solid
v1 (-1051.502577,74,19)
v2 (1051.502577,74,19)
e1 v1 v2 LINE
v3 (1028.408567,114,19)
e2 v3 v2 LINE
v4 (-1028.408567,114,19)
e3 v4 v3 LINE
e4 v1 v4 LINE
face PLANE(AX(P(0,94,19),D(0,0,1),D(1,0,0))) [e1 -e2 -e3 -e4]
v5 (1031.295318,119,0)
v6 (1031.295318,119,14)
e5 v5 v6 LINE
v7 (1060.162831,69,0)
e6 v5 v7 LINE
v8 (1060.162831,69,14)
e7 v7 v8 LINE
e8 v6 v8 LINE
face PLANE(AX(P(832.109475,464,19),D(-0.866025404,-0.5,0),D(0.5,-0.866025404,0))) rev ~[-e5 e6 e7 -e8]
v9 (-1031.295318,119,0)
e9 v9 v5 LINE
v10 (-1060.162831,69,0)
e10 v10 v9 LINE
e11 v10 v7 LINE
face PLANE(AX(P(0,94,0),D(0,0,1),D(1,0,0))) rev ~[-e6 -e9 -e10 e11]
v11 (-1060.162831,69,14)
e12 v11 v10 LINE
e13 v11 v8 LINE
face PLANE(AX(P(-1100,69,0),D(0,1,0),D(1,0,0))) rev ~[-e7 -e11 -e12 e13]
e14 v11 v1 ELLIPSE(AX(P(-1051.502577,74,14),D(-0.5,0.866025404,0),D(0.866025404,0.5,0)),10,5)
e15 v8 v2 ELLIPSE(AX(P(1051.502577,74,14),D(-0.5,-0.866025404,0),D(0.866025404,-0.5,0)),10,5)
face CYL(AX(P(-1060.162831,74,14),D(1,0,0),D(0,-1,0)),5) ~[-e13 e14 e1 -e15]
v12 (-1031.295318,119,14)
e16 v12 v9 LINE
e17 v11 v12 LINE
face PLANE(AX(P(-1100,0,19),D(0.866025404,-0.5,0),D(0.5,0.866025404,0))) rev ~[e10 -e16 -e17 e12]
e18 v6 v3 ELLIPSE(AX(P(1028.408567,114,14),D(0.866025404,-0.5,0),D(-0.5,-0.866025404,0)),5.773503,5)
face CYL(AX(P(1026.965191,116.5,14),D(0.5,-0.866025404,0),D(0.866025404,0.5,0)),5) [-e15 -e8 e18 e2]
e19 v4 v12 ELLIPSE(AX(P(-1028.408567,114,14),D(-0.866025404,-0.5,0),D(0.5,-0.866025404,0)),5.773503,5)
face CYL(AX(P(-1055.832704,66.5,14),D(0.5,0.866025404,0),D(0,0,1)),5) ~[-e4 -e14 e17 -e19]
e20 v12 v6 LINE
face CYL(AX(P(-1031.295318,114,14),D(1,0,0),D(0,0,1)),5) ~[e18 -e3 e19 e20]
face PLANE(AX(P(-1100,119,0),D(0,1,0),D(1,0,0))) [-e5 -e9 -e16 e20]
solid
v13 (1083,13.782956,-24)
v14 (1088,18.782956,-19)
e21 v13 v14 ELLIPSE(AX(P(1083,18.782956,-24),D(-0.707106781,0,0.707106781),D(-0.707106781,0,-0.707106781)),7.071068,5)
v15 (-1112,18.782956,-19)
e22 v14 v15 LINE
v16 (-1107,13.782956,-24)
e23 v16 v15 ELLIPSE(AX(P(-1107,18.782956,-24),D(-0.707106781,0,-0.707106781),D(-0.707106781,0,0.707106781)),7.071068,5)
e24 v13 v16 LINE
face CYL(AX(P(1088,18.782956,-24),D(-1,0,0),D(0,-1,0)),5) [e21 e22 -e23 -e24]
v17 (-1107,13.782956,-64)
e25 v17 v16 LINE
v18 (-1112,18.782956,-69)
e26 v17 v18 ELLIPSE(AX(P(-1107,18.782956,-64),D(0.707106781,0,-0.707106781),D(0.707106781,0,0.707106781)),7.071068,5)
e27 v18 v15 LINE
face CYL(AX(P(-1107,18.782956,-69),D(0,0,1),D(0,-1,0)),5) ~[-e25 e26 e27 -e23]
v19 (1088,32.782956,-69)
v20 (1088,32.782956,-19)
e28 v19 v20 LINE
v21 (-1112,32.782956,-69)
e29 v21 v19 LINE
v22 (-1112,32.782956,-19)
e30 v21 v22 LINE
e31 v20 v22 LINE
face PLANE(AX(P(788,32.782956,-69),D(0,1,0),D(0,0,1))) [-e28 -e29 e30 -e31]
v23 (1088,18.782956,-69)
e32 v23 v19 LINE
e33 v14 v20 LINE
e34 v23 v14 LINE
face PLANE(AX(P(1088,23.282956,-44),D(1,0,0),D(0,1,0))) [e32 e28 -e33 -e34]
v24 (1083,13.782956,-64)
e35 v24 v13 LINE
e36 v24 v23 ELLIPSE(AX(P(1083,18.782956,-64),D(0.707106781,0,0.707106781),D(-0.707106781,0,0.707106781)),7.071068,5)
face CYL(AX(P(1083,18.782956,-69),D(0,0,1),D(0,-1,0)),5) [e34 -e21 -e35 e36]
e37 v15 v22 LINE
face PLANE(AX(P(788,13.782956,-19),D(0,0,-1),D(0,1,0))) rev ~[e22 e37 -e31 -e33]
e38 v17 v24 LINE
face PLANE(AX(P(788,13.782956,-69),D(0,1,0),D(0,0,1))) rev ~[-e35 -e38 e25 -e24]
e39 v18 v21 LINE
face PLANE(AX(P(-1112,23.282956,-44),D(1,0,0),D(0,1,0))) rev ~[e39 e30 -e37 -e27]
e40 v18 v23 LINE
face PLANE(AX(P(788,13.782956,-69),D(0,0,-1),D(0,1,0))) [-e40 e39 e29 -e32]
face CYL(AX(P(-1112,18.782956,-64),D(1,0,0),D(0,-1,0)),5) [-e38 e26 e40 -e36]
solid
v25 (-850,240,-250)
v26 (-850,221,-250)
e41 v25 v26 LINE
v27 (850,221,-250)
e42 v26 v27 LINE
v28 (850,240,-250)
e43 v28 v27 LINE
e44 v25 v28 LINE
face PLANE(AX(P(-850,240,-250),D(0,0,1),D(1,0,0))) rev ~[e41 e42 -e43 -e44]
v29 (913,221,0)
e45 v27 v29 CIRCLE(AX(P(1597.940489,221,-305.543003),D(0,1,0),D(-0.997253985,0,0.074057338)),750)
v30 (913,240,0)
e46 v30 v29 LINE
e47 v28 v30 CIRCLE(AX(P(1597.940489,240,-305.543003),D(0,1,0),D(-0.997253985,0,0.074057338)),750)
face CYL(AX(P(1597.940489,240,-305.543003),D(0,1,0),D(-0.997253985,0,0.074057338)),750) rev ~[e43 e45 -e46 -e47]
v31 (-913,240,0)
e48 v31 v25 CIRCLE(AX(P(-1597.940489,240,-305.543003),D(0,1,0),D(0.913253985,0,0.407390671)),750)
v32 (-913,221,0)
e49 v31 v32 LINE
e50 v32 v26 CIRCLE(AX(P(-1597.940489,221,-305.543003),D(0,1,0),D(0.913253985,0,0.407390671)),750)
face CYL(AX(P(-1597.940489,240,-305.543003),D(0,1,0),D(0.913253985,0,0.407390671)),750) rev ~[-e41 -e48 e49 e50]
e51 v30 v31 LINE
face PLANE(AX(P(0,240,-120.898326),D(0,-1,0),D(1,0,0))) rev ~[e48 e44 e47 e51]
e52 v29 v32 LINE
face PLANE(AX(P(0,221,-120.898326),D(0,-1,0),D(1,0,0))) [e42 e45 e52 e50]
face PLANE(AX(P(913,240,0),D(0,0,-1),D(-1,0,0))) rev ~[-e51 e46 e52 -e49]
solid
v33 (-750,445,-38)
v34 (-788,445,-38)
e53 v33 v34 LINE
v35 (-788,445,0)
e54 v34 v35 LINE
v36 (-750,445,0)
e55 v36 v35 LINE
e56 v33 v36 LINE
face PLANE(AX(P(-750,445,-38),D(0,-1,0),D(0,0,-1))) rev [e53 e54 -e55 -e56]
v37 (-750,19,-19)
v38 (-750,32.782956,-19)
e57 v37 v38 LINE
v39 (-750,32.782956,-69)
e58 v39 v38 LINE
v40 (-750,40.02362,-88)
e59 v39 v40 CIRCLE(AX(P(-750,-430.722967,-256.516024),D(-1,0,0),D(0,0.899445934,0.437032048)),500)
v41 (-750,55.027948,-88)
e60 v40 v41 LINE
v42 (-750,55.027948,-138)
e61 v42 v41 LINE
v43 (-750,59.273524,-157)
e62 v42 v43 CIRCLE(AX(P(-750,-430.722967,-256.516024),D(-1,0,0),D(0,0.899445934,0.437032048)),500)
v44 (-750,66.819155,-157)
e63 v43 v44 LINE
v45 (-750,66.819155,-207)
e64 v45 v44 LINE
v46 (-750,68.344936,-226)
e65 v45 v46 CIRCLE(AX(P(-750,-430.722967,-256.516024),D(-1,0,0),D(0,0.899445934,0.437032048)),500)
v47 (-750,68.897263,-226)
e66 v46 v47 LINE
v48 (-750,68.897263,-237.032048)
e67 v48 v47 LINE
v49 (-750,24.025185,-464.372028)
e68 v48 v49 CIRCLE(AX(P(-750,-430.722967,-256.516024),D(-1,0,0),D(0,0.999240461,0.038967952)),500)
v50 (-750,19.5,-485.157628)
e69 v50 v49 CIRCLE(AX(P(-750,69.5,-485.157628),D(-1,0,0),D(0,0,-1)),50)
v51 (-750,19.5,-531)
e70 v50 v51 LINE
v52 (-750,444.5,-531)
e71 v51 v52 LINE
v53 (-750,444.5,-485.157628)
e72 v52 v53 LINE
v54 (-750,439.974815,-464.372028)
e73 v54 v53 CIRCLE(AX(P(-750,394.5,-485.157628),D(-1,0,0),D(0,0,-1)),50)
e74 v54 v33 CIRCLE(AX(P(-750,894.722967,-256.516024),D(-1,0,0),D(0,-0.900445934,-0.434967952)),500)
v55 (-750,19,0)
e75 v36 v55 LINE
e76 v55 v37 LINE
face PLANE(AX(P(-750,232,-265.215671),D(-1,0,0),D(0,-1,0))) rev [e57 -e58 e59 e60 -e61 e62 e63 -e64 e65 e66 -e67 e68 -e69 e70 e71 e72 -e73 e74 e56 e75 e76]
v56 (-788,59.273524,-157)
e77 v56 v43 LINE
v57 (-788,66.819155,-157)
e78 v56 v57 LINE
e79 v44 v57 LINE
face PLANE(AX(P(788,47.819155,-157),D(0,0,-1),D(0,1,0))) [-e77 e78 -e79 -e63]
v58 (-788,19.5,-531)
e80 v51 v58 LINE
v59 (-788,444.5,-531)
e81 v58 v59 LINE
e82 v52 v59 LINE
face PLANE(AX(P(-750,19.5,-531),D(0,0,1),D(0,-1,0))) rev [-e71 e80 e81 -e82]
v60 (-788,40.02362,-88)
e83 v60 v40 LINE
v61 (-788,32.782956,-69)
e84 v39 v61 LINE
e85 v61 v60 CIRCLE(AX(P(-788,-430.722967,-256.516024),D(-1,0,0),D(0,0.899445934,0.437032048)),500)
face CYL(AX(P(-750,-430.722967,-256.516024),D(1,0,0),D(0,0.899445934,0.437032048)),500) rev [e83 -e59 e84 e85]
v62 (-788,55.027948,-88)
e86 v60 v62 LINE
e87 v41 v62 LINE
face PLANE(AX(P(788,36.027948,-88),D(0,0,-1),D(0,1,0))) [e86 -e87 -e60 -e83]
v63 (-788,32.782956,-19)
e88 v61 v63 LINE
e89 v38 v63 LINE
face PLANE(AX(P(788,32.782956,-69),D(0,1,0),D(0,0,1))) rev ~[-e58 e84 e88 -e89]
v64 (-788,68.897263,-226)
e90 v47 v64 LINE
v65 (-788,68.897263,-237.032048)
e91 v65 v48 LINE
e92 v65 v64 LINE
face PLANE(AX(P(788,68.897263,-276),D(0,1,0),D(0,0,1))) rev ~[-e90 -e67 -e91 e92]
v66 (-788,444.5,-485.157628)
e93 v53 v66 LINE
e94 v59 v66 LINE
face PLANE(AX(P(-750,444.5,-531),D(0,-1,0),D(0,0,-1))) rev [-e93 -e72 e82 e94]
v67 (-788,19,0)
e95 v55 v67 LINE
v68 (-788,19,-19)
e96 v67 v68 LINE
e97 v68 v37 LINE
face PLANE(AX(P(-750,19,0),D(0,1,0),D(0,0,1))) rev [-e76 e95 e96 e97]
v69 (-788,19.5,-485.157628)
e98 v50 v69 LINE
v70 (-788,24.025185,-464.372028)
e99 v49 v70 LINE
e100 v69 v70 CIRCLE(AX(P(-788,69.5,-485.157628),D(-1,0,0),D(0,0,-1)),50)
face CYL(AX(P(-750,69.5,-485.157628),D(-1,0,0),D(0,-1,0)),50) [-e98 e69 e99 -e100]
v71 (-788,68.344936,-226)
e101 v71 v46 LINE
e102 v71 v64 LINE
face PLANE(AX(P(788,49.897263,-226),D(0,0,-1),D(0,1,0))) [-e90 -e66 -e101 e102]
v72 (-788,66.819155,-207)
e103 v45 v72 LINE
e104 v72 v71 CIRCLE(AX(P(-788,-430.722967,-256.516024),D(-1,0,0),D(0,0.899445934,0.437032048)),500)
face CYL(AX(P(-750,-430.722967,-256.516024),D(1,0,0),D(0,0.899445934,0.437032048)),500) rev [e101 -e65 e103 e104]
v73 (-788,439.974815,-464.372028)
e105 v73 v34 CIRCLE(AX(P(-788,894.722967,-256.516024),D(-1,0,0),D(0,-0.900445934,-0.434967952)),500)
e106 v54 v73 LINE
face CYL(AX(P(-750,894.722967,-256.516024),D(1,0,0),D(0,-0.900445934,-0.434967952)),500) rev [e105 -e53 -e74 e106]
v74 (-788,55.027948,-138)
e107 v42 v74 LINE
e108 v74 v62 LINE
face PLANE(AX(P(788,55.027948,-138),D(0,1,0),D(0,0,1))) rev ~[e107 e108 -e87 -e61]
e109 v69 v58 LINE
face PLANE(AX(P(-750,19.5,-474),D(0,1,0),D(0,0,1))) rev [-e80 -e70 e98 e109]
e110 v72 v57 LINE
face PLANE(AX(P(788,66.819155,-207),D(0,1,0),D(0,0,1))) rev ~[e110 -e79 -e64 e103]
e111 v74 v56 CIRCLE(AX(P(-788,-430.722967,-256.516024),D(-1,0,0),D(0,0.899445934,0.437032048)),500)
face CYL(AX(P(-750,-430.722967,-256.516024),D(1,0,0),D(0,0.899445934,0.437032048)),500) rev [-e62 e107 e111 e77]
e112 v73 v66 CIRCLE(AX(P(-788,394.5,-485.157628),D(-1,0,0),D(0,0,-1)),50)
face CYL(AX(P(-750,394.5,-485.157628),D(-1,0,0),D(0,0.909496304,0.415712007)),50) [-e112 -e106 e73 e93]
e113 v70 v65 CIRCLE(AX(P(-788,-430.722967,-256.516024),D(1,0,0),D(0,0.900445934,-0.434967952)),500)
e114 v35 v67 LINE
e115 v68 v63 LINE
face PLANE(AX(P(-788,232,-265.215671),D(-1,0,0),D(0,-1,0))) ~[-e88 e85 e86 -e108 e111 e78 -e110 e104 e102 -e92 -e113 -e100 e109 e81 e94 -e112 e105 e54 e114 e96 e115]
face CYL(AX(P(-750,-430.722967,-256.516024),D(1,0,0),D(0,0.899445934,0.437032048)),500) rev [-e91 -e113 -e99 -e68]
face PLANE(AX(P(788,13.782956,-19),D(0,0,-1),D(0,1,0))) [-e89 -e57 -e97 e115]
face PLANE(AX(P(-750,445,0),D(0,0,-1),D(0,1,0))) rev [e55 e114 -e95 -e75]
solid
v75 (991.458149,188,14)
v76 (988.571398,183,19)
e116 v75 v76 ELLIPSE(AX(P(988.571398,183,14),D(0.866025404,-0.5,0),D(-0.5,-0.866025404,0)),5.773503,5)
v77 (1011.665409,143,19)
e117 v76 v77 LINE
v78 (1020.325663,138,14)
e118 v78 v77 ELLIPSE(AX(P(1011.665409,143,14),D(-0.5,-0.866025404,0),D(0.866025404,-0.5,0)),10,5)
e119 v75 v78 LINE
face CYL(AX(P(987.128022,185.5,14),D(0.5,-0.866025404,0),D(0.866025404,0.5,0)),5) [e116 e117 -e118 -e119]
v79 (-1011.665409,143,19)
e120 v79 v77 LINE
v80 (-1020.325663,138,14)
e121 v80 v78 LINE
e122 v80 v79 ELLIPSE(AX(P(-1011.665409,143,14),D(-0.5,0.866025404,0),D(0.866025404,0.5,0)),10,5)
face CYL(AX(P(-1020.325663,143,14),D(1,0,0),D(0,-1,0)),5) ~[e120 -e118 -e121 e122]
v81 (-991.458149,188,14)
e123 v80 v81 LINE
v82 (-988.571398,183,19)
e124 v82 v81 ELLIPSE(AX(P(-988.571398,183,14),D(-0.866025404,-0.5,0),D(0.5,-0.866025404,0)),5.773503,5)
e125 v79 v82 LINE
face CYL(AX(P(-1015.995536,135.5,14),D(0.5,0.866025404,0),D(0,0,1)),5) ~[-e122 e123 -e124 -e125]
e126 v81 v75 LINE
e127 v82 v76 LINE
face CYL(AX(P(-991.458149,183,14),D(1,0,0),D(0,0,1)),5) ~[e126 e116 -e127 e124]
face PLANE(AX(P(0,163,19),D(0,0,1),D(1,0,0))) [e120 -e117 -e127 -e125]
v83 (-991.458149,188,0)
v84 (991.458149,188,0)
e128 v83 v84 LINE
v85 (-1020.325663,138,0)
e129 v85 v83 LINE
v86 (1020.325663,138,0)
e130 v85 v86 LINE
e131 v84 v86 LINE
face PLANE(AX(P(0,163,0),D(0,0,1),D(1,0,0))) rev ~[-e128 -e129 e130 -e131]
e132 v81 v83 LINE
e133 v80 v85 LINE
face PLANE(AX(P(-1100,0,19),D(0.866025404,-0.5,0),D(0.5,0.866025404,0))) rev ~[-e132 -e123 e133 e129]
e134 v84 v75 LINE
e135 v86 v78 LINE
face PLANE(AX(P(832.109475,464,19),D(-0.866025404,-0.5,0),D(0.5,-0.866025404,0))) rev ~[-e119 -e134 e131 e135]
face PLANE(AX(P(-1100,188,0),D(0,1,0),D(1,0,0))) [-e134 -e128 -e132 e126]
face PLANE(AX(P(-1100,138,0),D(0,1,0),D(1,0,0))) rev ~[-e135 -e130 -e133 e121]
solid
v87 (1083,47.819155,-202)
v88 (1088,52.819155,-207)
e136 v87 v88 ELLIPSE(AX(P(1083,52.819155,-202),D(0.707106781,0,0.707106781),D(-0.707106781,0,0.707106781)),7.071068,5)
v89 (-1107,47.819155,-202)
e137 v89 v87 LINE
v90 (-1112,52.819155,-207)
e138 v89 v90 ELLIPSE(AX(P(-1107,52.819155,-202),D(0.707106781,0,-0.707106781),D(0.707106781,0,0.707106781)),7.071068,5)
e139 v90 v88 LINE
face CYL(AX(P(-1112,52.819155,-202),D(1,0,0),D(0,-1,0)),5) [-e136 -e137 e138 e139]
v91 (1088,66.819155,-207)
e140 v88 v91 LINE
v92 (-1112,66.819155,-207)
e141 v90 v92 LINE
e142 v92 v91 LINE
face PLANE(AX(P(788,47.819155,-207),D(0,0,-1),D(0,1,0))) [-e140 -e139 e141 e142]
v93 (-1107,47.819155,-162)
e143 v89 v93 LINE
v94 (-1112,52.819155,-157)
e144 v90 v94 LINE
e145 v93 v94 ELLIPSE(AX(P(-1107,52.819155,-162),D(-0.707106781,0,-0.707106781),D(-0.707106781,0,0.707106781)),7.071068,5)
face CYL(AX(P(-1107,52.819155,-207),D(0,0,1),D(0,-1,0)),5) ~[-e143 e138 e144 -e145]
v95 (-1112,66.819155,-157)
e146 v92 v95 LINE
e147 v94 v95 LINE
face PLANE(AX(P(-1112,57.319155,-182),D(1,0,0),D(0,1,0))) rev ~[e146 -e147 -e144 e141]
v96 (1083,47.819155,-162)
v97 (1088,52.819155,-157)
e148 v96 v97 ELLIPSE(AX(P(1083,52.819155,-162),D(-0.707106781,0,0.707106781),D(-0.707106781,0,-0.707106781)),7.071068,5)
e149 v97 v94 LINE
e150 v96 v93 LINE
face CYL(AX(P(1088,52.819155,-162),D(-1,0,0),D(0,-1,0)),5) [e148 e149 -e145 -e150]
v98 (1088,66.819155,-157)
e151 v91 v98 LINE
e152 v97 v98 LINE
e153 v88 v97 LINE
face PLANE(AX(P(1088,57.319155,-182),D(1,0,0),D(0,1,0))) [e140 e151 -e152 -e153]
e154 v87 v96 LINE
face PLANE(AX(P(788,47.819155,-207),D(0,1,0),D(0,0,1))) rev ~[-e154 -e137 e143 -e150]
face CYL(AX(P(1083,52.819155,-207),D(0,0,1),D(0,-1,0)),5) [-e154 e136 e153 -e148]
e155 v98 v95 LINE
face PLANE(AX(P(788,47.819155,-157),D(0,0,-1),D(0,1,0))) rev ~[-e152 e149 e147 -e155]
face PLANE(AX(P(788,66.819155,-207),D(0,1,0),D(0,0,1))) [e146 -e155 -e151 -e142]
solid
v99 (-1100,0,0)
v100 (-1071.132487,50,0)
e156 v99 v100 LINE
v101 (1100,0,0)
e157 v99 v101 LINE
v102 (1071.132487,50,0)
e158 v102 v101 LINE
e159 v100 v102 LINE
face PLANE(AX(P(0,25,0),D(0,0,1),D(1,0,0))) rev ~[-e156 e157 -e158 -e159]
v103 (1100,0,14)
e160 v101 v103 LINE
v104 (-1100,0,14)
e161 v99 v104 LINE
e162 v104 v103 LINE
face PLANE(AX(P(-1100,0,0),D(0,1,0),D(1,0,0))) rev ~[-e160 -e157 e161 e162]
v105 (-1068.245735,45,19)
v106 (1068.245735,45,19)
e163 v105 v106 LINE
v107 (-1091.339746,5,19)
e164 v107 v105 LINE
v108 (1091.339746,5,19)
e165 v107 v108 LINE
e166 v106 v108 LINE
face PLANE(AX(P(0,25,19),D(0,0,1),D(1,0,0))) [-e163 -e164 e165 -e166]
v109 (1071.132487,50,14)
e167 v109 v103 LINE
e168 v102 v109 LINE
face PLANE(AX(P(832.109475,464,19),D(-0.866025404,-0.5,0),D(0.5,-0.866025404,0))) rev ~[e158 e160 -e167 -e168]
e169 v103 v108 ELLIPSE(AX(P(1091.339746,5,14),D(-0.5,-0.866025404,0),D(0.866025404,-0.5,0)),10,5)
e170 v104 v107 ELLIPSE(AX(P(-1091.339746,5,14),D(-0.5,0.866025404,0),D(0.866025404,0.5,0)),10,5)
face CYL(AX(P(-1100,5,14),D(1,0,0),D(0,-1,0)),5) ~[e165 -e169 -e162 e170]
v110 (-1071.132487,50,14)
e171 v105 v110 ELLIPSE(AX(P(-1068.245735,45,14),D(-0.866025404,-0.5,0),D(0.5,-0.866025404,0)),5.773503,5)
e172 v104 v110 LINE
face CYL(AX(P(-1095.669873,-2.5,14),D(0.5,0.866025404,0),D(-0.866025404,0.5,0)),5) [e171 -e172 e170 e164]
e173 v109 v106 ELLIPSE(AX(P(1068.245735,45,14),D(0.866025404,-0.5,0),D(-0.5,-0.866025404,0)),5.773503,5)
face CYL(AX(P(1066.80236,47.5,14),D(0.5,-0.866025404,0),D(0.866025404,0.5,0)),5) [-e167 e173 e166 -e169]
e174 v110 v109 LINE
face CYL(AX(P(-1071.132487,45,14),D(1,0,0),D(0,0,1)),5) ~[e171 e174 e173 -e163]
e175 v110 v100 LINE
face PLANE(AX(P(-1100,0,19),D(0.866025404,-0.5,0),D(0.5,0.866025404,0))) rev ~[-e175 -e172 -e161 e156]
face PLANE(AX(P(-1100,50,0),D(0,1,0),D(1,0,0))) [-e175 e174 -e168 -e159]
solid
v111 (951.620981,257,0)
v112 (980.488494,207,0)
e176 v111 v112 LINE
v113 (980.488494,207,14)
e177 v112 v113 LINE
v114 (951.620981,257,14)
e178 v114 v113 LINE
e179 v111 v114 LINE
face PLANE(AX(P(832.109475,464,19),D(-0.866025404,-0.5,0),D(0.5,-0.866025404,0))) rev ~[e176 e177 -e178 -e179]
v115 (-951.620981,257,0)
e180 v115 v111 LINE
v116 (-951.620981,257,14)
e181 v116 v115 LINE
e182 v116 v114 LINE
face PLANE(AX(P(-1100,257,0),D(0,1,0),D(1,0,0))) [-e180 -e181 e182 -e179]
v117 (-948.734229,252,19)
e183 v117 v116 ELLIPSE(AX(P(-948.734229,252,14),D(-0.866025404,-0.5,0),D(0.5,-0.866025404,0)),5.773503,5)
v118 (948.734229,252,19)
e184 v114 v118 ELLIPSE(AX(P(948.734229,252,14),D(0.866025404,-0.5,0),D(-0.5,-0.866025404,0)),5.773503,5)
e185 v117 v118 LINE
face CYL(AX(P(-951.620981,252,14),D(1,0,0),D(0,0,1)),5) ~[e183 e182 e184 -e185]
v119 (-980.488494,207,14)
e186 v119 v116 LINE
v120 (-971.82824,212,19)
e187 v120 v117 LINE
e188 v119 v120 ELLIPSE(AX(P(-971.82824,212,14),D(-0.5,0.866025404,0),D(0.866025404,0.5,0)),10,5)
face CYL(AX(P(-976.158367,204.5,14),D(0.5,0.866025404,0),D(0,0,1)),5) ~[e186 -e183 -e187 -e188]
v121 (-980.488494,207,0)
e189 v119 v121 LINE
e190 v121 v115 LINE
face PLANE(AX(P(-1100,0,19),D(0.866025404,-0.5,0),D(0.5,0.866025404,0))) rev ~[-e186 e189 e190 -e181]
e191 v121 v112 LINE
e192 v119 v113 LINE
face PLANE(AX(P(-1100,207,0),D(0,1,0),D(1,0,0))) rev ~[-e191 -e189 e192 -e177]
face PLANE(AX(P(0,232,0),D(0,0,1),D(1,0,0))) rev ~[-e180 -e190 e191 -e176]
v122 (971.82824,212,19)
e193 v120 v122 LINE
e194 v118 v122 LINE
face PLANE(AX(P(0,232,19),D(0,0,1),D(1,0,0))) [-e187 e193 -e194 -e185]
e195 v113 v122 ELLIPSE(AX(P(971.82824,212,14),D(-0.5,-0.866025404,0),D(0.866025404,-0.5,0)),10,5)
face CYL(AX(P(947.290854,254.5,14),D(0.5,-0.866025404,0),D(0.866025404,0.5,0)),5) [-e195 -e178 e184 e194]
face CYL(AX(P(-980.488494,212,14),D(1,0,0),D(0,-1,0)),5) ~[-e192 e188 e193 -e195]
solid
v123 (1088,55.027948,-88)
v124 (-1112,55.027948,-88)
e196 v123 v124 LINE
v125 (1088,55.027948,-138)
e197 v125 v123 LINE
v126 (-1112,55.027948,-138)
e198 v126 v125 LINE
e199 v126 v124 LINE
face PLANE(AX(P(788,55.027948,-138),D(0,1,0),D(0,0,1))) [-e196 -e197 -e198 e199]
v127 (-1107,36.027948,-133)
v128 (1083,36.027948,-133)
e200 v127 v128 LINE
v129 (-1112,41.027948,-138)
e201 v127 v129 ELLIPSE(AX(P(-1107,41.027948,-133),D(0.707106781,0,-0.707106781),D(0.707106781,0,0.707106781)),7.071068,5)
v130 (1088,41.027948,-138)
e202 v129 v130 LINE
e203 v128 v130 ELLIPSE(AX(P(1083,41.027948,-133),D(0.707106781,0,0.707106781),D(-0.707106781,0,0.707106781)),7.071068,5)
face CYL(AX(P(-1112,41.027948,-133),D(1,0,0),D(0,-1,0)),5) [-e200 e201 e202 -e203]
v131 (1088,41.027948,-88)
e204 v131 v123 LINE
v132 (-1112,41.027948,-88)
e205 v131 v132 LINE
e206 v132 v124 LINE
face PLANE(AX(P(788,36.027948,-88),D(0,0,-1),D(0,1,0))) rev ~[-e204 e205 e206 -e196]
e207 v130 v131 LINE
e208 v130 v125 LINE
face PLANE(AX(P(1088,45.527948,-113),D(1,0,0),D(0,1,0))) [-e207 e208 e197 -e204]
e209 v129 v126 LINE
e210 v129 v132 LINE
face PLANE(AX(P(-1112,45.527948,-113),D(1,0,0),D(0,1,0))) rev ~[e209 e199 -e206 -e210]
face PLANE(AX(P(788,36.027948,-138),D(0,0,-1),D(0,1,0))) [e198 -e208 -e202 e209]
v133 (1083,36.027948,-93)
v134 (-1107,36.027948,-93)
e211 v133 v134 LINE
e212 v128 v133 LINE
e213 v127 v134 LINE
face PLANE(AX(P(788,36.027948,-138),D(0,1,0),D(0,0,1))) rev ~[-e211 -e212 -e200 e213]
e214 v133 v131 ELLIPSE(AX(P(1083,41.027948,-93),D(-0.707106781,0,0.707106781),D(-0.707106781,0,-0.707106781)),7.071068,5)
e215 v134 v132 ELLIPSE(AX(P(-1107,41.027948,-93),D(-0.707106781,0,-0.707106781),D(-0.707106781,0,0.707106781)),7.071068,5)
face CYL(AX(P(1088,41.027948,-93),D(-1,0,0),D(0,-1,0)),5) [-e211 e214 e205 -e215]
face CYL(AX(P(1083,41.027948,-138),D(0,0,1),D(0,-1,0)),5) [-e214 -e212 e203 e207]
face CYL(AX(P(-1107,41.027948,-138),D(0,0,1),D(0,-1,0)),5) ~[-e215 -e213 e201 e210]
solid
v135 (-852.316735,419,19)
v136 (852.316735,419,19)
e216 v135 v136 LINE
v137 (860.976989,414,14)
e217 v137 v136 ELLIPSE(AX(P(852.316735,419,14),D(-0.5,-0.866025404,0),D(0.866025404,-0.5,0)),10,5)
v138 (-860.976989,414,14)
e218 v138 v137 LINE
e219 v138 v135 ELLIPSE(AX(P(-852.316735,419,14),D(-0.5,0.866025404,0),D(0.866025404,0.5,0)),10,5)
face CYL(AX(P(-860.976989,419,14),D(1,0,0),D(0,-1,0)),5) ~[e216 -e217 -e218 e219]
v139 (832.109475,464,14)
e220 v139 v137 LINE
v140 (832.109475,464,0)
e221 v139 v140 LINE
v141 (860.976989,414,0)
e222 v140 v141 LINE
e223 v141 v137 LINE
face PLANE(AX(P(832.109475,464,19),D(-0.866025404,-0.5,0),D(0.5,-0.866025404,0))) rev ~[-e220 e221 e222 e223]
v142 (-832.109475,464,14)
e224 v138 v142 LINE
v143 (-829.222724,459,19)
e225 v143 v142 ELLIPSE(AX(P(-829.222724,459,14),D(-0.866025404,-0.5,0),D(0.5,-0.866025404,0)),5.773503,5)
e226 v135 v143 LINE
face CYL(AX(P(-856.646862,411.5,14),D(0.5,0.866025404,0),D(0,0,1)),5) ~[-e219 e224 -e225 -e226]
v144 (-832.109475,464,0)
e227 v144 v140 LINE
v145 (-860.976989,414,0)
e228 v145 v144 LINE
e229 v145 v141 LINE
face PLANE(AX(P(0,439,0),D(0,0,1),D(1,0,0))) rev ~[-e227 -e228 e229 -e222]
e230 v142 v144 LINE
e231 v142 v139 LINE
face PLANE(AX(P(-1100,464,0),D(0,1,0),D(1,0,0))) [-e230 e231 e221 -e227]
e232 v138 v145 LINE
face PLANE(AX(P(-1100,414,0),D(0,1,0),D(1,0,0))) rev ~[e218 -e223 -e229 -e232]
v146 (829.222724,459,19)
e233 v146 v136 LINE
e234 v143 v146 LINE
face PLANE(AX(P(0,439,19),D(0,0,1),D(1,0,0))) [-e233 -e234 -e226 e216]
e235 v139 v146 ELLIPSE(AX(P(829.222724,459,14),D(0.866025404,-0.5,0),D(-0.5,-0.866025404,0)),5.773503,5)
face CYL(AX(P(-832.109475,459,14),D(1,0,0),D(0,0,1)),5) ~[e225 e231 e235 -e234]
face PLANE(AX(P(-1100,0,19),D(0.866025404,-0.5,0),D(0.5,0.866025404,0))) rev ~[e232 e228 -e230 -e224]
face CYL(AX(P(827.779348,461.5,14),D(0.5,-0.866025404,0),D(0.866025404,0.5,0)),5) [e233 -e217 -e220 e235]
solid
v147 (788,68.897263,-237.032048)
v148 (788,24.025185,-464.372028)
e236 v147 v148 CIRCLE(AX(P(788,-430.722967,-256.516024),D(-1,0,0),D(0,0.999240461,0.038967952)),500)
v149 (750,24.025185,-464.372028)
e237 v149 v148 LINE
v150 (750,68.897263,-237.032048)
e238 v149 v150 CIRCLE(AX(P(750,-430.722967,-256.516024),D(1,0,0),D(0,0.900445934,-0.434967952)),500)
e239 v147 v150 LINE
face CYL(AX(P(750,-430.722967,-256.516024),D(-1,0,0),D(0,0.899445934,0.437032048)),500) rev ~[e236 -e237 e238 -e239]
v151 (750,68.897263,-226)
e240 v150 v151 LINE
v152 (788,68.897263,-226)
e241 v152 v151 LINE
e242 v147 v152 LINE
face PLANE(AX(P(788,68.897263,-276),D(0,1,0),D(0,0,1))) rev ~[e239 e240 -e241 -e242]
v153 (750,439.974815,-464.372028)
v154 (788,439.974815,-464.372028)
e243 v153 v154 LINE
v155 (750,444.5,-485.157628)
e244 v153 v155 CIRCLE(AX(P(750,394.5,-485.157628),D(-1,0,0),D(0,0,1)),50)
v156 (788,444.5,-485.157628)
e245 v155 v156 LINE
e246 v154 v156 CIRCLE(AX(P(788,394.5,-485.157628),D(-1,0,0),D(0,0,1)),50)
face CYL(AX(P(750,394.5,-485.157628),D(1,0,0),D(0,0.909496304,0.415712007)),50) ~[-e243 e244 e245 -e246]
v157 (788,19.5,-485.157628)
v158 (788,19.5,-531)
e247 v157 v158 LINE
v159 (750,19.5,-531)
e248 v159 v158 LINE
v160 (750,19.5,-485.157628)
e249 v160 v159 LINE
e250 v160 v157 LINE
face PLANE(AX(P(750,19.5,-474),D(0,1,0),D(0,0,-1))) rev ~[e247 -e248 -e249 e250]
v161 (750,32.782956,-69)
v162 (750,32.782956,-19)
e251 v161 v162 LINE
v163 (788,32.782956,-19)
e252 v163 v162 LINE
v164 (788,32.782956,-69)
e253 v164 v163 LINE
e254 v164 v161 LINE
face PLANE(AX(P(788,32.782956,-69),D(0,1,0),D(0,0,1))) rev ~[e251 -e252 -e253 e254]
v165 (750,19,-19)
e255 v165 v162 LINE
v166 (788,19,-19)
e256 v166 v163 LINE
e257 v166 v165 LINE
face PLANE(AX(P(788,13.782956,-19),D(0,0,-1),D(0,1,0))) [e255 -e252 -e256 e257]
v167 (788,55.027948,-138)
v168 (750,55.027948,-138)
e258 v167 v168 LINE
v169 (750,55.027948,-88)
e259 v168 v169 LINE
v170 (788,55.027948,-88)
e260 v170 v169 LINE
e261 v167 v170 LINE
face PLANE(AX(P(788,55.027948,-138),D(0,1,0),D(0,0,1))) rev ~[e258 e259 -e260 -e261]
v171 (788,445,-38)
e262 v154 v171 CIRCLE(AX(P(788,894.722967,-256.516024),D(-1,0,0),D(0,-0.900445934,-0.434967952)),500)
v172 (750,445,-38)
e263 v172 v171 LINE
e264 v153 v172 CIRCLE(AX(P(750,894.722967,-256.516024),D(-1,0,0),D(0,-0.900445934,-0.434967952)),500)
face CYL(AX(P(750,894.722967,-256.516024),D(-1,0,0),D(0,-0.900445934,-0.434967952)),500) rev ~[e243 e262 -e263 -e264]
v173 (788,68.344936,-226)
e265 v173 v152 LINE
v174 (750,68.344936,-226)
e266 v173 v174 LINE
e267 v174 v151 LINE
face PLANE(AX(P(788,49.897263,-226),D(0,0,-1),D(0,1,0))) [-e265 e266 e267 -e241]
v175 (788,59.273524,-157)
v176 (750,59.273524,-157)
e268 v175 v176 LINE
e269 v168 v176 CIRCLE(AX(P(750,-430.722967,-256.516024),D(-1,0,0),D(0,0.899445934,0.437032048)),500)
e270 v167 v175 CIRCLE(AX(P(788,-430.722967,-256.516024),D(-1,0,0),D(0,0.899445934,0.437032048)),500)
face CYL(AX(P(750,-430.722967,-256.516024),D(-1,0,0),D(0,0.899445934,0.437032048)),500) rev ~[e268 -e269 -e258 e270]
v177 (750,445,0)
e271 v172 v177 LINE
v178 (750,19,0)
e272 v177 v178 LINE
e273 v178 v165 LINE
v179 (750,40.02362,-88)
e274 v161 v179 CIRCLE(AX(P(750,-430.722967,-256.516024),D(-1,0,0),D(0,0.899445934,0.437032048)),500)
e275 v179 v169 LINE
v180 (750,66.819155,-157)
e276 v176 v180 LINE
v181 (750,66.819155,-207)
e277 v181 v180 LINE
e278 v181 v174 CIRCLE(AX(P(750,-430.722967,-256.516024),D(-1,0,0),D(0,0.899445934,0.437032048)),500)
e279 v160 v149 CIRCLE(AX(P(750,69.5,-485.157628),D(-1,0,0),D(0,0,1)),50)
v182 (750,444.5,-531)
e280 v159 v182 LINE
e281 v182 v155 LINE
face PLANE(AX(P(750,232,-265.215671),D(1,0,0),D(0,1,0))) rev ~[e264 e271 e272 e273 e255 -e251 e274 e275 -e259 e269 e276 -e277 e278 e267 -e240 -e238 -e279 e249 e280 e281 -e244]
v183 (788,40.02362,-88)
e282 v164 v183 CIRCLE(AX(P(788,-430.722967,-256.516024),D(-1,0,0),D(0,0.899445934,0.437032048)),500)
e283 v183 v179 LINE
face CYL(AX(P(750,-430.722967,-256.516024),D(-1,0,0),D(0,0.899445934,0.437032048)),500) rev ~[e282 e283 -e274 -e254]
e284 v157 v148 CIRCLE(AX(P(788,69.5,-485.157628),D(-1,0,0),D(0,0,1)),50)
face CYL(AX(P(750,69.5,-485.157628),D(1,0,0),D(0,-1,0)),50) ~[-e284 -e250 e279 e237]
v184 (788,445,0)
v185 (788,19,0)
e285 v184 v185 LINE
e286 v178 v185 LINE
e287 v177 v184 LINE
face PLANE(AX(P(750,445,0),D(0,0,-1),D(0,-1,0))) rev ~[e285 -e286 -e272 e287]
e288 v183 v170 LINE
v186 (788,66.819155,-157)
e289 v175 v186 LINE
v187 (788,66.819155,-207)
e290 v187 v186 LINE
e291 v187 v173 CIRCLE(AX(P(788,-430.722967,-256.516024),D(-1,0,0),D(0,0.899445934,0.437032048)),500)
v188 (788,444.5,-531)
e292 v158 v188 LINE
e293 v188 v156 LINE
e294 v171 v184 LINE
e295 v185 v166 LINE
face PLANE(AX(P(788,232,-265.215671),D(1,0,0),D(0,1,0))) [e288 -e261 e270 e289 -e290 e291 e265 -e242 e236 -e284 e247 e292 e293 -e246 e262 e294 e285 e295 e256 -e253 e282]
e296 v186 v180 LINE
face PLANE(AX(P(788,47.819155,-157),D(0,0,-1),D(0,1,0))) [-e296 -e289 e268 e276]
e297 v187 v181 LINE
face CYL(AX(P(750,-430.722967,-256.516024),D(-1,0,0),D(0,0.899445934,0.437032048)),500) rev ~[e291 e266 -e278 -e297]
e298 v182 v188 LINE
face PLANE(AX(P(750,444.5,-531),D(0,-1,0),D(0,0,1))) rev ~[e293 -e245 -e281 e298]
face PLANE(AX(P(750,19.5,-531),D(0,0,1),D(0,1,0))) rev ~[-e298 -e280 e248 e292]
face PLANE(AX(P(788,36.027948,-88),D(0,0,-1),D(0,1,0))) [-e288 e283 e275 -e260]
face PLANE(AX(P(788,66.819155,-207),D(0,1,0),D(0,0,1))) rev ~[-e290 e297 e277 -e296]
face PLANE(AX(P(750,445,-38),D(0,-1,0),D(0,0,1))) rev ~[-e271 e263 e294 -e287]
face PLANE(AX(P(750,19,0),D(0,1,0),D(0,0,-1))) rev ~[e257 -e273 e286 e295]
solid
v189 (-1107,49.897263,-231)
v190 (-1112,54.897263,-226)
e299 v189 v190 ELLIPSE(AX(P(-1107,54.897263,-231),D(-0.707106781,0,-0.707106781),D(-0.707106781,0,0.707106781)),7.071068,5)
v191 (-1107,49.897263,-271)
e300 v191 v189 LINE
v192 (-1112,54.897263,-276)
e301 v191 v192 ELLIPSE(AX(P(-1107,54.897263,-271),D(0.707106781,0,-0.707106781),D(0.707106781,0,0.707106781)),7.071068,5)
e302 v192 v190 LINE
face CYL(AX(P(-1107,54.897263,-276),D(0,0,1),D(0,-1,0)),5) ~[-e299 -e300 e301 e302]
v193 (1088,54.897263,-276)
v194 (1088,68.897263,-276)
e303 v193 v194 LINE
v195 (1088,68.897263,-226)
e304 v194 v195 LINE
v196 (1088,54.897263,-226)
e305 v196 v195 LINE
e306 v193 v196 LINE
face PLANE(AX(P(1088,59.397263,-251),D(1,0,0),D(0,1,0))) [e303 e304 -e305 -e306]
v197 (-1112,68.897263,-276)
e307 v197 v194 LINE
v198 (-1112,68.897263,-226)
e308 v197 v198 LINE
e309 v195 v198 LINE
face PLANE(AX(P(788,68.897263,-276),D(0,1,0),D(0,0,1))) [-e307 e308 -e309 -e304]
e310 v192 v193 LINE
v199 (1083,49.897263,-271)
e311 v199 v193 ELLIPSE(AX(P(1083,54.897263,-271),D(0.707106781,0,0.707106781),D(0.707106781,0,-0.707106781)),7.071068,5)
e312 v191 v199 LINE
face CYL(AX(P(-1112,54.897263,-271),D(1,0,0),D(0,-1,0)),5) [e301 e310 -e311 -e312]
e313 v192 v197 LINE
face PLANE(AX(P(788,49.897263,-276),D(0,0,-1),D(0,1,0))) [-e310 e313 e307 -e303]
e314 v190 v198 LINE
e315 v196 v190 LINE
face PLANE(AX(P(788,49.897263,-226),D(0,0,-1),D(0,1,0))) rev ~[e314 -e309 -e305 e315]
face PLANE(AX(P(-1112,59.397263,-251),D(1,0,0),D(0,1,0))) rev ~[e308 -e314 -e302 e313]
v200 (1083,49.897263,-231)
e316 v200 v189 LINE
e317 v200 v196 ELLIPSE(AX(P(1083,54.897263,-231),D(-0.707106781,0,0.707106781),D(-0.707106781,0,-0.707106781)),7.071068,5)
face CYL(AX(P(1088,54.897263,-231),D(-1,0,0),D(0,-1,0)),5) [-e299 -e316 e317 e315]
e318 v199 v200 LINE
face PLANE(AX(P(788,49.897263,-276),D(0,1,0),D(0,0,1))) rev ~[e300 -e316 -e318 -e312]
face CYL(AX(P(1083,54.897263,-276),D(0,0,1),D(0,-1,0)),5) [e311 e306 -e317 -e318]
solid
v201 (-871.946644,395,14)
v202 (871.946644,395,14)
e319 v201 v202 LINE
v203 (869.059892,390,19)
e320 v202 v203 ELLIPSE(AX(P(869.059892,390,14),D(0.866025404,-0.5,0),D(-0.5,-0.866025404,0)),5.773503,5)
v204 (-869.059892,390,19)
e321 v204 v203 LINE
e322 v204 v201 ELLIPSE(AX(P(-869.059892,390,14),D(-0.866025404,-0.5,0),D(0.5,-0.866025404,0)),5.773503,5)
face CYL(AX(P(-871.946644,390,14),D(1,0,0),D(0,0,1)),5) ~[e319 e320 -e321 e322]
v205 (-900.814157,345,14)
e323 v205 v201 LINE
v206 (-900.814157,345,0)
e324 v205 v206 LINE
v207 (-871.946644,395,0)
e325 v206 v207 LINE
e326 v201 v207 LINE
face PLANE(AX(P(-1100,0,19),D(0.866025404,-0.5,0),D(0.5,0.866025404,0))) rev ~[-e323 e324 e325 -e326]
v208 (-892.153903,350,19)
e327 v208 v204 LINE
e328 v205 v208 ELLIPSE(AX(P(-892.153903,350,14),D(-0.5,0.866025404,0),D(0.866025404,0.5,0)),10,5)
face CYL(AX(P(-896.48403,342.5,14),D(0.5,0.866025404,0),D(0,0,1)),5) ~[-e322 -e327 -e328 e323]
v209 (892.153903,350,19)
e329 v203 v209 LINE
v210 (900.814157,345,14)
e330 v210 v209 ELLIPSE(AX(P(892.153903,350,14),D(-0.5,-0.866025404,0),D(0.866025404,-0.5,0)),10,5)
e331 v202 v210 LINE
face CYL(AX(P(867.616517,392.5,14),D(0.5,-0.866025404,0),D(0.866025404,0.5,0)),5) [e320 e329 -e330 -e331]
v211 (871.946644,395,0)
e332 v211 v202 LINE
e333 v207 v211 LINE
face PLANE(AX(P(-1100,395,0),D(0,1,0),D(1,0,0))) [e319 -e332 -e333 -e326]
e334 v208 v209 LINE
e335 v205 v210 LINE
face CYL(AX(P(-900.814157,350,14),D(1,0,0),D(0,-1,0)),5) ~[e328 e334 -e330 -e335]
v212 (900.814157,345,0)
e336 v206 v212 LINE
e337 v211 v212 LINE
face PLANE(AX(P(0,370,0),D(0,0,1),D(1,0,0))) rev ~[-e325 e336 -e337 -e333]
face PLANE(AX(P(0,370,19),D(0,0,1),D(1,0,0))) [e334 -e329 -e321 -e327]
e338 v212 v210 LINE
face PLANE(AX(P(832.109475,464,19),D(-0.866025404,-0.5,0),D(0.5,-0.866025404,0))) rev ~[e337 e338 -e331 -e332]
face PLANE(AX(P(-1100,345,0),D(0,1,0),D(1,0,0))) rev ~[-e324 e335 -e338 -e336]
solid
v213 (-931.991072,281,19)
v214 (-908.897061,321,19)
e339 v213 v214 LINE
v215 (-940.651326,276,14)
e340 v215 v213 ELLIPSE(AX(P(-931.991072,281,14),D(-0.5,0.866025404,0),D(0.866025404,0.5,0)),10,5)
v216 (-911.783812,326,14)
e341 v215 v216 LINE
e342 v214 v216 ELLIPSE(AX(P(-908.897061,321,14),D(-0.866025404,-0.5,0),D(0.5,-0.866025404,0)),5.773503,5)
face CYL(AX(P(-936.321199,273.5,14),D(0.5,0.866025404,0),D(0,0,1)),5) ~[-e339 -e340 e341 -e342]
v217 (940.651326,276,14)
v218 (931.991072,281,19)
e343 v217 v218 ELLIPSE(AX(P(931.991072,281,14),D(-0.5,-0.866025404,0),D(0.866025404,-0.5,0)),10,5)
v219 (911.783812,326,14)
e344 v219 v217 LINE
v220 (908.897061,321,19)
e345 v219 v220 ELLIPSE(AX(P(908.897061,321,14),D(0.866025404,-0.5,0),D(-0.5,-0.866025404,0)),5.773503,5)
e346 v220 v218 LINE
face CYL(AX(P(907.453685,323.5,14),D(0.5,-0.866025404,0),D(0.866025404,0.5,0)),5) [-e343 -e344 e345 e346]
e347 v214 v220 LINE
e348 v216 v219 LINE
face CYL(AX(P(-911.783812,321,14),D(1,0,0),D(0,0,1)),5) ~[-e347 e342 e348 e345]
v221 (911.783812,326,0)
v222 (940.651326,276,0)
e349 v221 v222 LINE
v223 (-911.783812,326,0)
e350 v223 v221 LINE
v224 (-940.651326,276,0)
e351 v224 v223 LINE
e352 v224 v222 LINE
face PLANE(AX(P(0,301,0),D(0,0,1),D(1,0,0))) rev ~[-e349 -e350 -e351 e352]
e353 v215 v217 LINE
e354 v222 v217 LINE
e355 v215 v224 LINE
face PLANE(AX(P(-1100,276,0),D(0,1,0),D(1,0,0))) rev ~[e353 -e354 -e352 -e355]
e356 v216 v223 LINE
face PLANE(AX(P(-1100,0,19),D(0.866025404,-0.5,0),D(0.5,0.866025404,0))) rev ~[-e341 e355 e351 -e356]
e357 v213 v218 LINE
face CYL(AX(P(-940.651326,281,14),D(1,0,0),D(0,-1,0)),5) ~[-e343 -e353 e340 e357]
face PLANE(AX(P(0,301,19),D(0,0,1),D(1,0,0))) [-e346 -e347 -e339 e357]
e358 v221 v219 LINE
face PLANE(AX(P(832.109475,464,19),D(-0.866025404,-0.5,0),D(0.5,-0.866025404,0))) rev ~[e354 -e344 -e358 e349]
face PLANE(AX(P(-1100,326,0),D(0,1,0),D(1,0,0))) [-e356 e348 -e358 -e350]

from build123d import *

# Parameters (mm, degrees)
F0_W           = 2200
F0_H           = 50
F1_DEPTH       = 19
F4_DEPTH       = 38
F8_DEPTH       = 19
F10_DEPTH      = 550.001
F11_R          = 5
F11_2_R        = 5
F11_3_R        = 5
F11_4_R        = 5
F11_5_R        = 5
F11_6_R        = 5
F11_7_R        = 5
F12_W          = 19
F12_H          = 50
F13_DEPTH      = 1888.001
F14_DEPTH      = 300
F14_DEPTH_BACK = 1900
F15_R          = 5
F15_2_R        = 5
F15_3_R        = 5
F15_4_R        = 5
F16_R          = 50
F16_2_R        = 50


with BuildPart() as f1:
    # F0 (on Top) → F1 (new body)
    with BuildSketch(Plane.XY):
        with Locations((0, 25)):
            Rectangle(F0_W, F0_H)
    extrude(amount=F1_DEPTH)


with BuildPart() as f1b:
    # F0 (on Top) → F1, piece 2 (new body)
    with BuildSketch(Plane.XY):
        with Locations((0, 94)):
            Rectangle(F0_W, F0_H)
    extrude(amount=F1_DEPTH)


with BuildPart() as f1c:
    # F0 (on Top) → F1, piece 3 (new body)
    with BuildSketch(Plane.XY):
        with Locations((0, 163)):
            Rectangle(F0_W, F0_H)
    extrude(amount=F1_DEPTH)


with BuildPart() as f1d:
    # F0 (on Top) → F1, piece 4 (new body)
    with BuildSketch(Plane.XY):
        with Locations((0, 232)):
            Rectangle(F0_W, F0_H)
    extrude(amount=F1_DEPTH)


with BuildPart() as f1e:
    # F0 (on Top) → F1, piece 5 (new body)
    with BuildSketch(Plane.XY):
        with Locations((0, 301)):
            Rectangle(F0_W, F0_H)
    extrude(amount=F1_DEPTH)


with BuildPart() as f1f:
    # F0 (on Top) → F1, piece 6 (new body)
    with BuildSketch(Plane.XY):
        with Locations((0, 370)):
            Rectangle(F0_W, F0_H)
    extrude(amount=F1_DEPTH)


with BuildPart() as f1g:
    # F0 (on Top) → F1, piece 7 (new body)
    with BuildSketch(Plane.XY):
        with Locations((0, 439)):
            Rectangle(F0_W, F0_H)
    extrude(amount=F1_DEPTH)


with BuildPart() as f4:
    # F3 (on offset) → F4 (new body)
    with BuildSketch(Plane.YZ.offset(750)):
        with BuildLine():
            Line((445, 0), (19, 0))
            Line((19, 0), (19, -38))
            ThreePointArc((19, -38), (69.2767040097, -255.9426299266), (19.5, -474))
            Line((19.5, -474), (19.5, -531))
            Line((19.5, -531), (444.5, -531))
            Line((444.5, -531), (444.5, -474))
            ThreePointArc((444.5, -474), (394.7232959903, -255.9426299266), (445, -38))
            Line((445, -38), (445, 0))
        make_face()
    extrude(amount=F4_DEPTH)


with BuildPart() as f5_1:
    # F5: instance of F4
    add(f4.part.mirror(Plane.YZ))


with BuildPart() as f8:
    # F7 (on offset) → F8 (new body)
    with BuildSketch(Plane.XZ.offset(-240)):
        with BuildLine():
            Line((913, 0), (-913, 0))
            ThreePointArc((-913, 0), (-870.6771431048, -122.2726400624), (-850, -250))
            Line((-850, -250), (850, -250))
            ThreePointArc((850, -250), (870.6771431048, -122.2726400624), (913, 0))
        make_face()
    extrude(amount=F8_DEPTH)


with BuildPart() as f10_tool:
    # F9 (on face) → F10 (new body, through all)
    with BuildSketch(Plane.XY.offset(19)):
        Polygon((-1100, 464), (-1100, 0), (-832.109475096, 464), align=None)
        Polygon((832.109475096, 464), (1100, 0), (1100, 464), align=None)
    extrude(amount=-F10_DEPTH)


with BuildPart() as f1_1:
    add(f1.part)

    # F10: cut by f10_tool
    add(f10_tool.part, mode=Mode.SUBTRACT)

    # F11
    f11_edges = [f1_1.edges().sort_by_distance(p)[0] for p in [
        (0, 0, 19),
        (1085.566243, 25, 19),
        (0, 50, 19),
        (-1085.566243, 25, 19),
    ]]
    fillet(f11_edges, radius=F11_R)


with BuildPart() as f1b_1:
    add(f1b.part)

    # F10: cut by f10_tool
    add(f10_tool.part, mode=Mode.SUBTRACT)

    # F11#2
    f11_2_edges = [f1b_1.edges().sort_by_distance(p)[0] for p in [
        (1045.729075, 94, 19),
        (0, 69, 19),
        (0, 119, 19),
        (-1045.729075, 94, 19),
    ]]
    fillet(f11_2_edges, radius=F11_2_R)


with BuildPart() as f1c_1:
    add(f1c.part)

    # F10: cut by f10_tool
    add(f10_tool.part, mode=Mode.SUBTRACT)

    # F11#3
    f11_3_edges = [f1c_1.edges().sort_by_distance(p)[0] for p in [
        (1005.891906, 163, 19),
        (0, 138, 19),
        (0, 188, 19),
        (-1005.891906, 163, 19),
    ]]
    fillet(f11_3_edges, radius=F11_3_R)


with BuildPart() as f1d_1:
    add(f1d.part)

    # F10: cut by f10_tool
    add(f10_tool.part, mode=Mode.SUBTRACT)

    # F11#4
    f11_4_edges = [f1d_1.edges().sort_by_distance(p)[0] for p in [
        (966.054738, 232, 19),
        (0, 207, 19),
        (0, 257, 19),
        (-966.054738, 232, 19),
    ]]
    fillet(f11_4_edges, radius=F11_4_R)


with BuildPart() as f1e_1:
    add(f1e.part)

    # F10: cut by f10_tool
    add(f10_tool.part, mode=Mode.SUBTRACT)

    # F11#5
    f11_5_edges = [f1e_1.edges().sort_by_distance(p)[0] for p in [
        (926.217569, 301, 19),
        (0, 276, 19),
        (0, 326, 19),
        (-926.217569, 301, 19),
    ]]
    fillet(f11_5_edges, radius=F11_5_R)


with BuildPart() as f1f_1:
    add(f1f.part)

    # F10: cut by f10_tool
    add(f10_tool.part, mode=Mode.SUBTRACT)

    # F11#6
    f11_6_edges = [f1f_1.edges().sort_by_distance(p)[0] for p in [
        (886.3804, 370, 19),
        (0, 345, 19),
        (0, 395, 19),
        (-886.3804, 370, 19),
    ]]
    fillet(f11_6_edges, radius=F11_6_R)


with BuildPart() as f1g_1:
    add(f1g.part)

    # F10: cut by f10_tool
    add(f10_tool.part, mode=Mode.SUBTRACT)

    # F11#7
    f11_7_edges = [f1g_1.edges().sort_by_distance(p)[0] for p in [
        (846.543232, 439, 19),
        (0, 414, 19),
        (0, 464, 19),
        (-846.543232, 439, 19),
    ]]
    fillet(f11_7_edges, radius=F11_7_R)


with BuildPart() as f13_tool:
    # F12 (on face) → F13 (new body, through all)
    with BuildSketch(Plane.YZ.offset(788)):
        with Locations((23.2829558665, -44)):
            Rectangle(F12_W, F12_H)
        with Locations((45.5279484301, -113)):
            Rectangle(F12_W, F12_H)
        with Locations((57.3191549901, -182)):
            Rectangle(F12_W, F12_H)
        with Locations((59.3972632467, -251)):
            Rectangle(F12_W, F12_H)
    extrude(amount=-F13_DEPTH)


with BuildPart() as f4_1:
    add(f4.part)

    # F13: cut by f13_tool
    add(f13_tool.part, mode=Mode.SUBTRACT)

    # F16
    f16_edges = [f4_1.edges().sort_by_distance(p)[0] for p in [
        (769, 19.5, -474),
        (769, 444.5, -474),
    ]]
    fillet(f16_edges, radius=F16_R)


with BuildPart() as f5_1_1:
    add(f5_1.part)

    # F13: cut by f13_tool
    add(f13_tool.part, mode=Mode.SUBTRACT)

    # F16#2
    f16_2_edges = [f5_1_1.edges().sort_by_distance(p)[0] for p in [
        (-769, 19.5, -474),
        (-769, 444.5, -474),
    ]]
    fillet(f16_2_edges, radius=F16_2_R)


with BuildPart() as f14:
    # F12 (on face) → F14 (new body, two sides)
    with BuildSketch(Plane.YZ.offset(788)) as f14_sk:
        with Locations((23.2829558665, -44)):
            Rectangle(F12_W, F12_H)
    extrude(amount=F14_DEPTH)
    extrude(f14_sk.sketch, amount=-F14_DEPTH_BACK)

    # F15
    f15_edges = [f14.edges().sort_by_distance(p)[0] for p in [
        (-12, 13.782956, -19),
        (1088, 13.782956, -44),
        (-12, 13.782956, -69),
        (-1112, 13.782956, -44),
    ]]
    fillet(f15_edges, radius=F15_R)


with BuildPart() as f14b:
    # F12 (on face) → F14, piece 2 (new body, two sides)
    with BuildSketch(Plane.YZ.offset(788)) as f14_2_sk:
        with Locations((45.5279484301, -113)):
            Rectangle(F12_W, F12_H)
    extrude(amount=F14_DEPTH)
    extrude(f14_2_sk.sketch, amount=-F14_DEPTH_BACK)

    # F15#2
    f15_2_edges = [f14b.edges().sort_by_distance(p)[0] for p in [
        (-12, 36.027948, -88),
        (1088, 36.027948, -113),
        (-12, 36.027948, -138),
        (-1112, 36.027948, -113),
    ]]
    fillet(f15_2_edges, radius=F15_2_R)


with BuildPart() as f14c:
    # F12 (on face) → F14, piece 3 (new body, two sides)
    with BuildSketch(Plane.YZ.offset(788)) as f14_3_sk:
        with Locations((57.3191549901, -182)):
            Rectangle(F12_W, F12_H)
    extrude(amount=F14_DEPTH)
    extrude(f14_3_sk.sketch, amount=-F14_DEPTH_BACK)

    # F15#3
    f15_3_edges = [f14c.edges().sort_by_distance(p)[0] for p in [
        (-12, 47.819155, -157),
        (1088, 47.819155, -182),
        (-12, 47.819155, -207),
        (-1112, 47.819155, -182),
    ]]
    fillet(f15_3_edges, radius=F15_3_R)


with BuildPart() as f14d:
    # F12 (on face) → F14, piece 4 (new body, two sides)
    with BuildSketch(Plane.YZ.offset(788)) as f14_4_sk:
        with Locations((59.3972632467, -251)):
            Rectangle(F12_W, F12_H)
    extrude(amount=F14_DEPTH)
    extrude(f14_4_sk.sketch, amount=-F14_DEPTH_BACK)

    # F15#4
    f15_4_edges = [f14d.edges().sort_by_distance(p)[0] for p in [
        (-12, 49.897263, -276),
        (-12, 49.897263, -226),
        (1088, 49.897263, -251),
        (-1112, 49.897263, -251),
    ]]
    fillet(f15_4_edges, radius=F15_4_R)


solid = Compound([f8.part, f1_1.part, f1b_1.part, f1c_1.part, f1d_1.part, f1e_1.part, f1f_1.part, f1g_1.part, f4_1.part, f5_1_1.part, f14.part, f14b.part, f14c.part, f14d.part])
